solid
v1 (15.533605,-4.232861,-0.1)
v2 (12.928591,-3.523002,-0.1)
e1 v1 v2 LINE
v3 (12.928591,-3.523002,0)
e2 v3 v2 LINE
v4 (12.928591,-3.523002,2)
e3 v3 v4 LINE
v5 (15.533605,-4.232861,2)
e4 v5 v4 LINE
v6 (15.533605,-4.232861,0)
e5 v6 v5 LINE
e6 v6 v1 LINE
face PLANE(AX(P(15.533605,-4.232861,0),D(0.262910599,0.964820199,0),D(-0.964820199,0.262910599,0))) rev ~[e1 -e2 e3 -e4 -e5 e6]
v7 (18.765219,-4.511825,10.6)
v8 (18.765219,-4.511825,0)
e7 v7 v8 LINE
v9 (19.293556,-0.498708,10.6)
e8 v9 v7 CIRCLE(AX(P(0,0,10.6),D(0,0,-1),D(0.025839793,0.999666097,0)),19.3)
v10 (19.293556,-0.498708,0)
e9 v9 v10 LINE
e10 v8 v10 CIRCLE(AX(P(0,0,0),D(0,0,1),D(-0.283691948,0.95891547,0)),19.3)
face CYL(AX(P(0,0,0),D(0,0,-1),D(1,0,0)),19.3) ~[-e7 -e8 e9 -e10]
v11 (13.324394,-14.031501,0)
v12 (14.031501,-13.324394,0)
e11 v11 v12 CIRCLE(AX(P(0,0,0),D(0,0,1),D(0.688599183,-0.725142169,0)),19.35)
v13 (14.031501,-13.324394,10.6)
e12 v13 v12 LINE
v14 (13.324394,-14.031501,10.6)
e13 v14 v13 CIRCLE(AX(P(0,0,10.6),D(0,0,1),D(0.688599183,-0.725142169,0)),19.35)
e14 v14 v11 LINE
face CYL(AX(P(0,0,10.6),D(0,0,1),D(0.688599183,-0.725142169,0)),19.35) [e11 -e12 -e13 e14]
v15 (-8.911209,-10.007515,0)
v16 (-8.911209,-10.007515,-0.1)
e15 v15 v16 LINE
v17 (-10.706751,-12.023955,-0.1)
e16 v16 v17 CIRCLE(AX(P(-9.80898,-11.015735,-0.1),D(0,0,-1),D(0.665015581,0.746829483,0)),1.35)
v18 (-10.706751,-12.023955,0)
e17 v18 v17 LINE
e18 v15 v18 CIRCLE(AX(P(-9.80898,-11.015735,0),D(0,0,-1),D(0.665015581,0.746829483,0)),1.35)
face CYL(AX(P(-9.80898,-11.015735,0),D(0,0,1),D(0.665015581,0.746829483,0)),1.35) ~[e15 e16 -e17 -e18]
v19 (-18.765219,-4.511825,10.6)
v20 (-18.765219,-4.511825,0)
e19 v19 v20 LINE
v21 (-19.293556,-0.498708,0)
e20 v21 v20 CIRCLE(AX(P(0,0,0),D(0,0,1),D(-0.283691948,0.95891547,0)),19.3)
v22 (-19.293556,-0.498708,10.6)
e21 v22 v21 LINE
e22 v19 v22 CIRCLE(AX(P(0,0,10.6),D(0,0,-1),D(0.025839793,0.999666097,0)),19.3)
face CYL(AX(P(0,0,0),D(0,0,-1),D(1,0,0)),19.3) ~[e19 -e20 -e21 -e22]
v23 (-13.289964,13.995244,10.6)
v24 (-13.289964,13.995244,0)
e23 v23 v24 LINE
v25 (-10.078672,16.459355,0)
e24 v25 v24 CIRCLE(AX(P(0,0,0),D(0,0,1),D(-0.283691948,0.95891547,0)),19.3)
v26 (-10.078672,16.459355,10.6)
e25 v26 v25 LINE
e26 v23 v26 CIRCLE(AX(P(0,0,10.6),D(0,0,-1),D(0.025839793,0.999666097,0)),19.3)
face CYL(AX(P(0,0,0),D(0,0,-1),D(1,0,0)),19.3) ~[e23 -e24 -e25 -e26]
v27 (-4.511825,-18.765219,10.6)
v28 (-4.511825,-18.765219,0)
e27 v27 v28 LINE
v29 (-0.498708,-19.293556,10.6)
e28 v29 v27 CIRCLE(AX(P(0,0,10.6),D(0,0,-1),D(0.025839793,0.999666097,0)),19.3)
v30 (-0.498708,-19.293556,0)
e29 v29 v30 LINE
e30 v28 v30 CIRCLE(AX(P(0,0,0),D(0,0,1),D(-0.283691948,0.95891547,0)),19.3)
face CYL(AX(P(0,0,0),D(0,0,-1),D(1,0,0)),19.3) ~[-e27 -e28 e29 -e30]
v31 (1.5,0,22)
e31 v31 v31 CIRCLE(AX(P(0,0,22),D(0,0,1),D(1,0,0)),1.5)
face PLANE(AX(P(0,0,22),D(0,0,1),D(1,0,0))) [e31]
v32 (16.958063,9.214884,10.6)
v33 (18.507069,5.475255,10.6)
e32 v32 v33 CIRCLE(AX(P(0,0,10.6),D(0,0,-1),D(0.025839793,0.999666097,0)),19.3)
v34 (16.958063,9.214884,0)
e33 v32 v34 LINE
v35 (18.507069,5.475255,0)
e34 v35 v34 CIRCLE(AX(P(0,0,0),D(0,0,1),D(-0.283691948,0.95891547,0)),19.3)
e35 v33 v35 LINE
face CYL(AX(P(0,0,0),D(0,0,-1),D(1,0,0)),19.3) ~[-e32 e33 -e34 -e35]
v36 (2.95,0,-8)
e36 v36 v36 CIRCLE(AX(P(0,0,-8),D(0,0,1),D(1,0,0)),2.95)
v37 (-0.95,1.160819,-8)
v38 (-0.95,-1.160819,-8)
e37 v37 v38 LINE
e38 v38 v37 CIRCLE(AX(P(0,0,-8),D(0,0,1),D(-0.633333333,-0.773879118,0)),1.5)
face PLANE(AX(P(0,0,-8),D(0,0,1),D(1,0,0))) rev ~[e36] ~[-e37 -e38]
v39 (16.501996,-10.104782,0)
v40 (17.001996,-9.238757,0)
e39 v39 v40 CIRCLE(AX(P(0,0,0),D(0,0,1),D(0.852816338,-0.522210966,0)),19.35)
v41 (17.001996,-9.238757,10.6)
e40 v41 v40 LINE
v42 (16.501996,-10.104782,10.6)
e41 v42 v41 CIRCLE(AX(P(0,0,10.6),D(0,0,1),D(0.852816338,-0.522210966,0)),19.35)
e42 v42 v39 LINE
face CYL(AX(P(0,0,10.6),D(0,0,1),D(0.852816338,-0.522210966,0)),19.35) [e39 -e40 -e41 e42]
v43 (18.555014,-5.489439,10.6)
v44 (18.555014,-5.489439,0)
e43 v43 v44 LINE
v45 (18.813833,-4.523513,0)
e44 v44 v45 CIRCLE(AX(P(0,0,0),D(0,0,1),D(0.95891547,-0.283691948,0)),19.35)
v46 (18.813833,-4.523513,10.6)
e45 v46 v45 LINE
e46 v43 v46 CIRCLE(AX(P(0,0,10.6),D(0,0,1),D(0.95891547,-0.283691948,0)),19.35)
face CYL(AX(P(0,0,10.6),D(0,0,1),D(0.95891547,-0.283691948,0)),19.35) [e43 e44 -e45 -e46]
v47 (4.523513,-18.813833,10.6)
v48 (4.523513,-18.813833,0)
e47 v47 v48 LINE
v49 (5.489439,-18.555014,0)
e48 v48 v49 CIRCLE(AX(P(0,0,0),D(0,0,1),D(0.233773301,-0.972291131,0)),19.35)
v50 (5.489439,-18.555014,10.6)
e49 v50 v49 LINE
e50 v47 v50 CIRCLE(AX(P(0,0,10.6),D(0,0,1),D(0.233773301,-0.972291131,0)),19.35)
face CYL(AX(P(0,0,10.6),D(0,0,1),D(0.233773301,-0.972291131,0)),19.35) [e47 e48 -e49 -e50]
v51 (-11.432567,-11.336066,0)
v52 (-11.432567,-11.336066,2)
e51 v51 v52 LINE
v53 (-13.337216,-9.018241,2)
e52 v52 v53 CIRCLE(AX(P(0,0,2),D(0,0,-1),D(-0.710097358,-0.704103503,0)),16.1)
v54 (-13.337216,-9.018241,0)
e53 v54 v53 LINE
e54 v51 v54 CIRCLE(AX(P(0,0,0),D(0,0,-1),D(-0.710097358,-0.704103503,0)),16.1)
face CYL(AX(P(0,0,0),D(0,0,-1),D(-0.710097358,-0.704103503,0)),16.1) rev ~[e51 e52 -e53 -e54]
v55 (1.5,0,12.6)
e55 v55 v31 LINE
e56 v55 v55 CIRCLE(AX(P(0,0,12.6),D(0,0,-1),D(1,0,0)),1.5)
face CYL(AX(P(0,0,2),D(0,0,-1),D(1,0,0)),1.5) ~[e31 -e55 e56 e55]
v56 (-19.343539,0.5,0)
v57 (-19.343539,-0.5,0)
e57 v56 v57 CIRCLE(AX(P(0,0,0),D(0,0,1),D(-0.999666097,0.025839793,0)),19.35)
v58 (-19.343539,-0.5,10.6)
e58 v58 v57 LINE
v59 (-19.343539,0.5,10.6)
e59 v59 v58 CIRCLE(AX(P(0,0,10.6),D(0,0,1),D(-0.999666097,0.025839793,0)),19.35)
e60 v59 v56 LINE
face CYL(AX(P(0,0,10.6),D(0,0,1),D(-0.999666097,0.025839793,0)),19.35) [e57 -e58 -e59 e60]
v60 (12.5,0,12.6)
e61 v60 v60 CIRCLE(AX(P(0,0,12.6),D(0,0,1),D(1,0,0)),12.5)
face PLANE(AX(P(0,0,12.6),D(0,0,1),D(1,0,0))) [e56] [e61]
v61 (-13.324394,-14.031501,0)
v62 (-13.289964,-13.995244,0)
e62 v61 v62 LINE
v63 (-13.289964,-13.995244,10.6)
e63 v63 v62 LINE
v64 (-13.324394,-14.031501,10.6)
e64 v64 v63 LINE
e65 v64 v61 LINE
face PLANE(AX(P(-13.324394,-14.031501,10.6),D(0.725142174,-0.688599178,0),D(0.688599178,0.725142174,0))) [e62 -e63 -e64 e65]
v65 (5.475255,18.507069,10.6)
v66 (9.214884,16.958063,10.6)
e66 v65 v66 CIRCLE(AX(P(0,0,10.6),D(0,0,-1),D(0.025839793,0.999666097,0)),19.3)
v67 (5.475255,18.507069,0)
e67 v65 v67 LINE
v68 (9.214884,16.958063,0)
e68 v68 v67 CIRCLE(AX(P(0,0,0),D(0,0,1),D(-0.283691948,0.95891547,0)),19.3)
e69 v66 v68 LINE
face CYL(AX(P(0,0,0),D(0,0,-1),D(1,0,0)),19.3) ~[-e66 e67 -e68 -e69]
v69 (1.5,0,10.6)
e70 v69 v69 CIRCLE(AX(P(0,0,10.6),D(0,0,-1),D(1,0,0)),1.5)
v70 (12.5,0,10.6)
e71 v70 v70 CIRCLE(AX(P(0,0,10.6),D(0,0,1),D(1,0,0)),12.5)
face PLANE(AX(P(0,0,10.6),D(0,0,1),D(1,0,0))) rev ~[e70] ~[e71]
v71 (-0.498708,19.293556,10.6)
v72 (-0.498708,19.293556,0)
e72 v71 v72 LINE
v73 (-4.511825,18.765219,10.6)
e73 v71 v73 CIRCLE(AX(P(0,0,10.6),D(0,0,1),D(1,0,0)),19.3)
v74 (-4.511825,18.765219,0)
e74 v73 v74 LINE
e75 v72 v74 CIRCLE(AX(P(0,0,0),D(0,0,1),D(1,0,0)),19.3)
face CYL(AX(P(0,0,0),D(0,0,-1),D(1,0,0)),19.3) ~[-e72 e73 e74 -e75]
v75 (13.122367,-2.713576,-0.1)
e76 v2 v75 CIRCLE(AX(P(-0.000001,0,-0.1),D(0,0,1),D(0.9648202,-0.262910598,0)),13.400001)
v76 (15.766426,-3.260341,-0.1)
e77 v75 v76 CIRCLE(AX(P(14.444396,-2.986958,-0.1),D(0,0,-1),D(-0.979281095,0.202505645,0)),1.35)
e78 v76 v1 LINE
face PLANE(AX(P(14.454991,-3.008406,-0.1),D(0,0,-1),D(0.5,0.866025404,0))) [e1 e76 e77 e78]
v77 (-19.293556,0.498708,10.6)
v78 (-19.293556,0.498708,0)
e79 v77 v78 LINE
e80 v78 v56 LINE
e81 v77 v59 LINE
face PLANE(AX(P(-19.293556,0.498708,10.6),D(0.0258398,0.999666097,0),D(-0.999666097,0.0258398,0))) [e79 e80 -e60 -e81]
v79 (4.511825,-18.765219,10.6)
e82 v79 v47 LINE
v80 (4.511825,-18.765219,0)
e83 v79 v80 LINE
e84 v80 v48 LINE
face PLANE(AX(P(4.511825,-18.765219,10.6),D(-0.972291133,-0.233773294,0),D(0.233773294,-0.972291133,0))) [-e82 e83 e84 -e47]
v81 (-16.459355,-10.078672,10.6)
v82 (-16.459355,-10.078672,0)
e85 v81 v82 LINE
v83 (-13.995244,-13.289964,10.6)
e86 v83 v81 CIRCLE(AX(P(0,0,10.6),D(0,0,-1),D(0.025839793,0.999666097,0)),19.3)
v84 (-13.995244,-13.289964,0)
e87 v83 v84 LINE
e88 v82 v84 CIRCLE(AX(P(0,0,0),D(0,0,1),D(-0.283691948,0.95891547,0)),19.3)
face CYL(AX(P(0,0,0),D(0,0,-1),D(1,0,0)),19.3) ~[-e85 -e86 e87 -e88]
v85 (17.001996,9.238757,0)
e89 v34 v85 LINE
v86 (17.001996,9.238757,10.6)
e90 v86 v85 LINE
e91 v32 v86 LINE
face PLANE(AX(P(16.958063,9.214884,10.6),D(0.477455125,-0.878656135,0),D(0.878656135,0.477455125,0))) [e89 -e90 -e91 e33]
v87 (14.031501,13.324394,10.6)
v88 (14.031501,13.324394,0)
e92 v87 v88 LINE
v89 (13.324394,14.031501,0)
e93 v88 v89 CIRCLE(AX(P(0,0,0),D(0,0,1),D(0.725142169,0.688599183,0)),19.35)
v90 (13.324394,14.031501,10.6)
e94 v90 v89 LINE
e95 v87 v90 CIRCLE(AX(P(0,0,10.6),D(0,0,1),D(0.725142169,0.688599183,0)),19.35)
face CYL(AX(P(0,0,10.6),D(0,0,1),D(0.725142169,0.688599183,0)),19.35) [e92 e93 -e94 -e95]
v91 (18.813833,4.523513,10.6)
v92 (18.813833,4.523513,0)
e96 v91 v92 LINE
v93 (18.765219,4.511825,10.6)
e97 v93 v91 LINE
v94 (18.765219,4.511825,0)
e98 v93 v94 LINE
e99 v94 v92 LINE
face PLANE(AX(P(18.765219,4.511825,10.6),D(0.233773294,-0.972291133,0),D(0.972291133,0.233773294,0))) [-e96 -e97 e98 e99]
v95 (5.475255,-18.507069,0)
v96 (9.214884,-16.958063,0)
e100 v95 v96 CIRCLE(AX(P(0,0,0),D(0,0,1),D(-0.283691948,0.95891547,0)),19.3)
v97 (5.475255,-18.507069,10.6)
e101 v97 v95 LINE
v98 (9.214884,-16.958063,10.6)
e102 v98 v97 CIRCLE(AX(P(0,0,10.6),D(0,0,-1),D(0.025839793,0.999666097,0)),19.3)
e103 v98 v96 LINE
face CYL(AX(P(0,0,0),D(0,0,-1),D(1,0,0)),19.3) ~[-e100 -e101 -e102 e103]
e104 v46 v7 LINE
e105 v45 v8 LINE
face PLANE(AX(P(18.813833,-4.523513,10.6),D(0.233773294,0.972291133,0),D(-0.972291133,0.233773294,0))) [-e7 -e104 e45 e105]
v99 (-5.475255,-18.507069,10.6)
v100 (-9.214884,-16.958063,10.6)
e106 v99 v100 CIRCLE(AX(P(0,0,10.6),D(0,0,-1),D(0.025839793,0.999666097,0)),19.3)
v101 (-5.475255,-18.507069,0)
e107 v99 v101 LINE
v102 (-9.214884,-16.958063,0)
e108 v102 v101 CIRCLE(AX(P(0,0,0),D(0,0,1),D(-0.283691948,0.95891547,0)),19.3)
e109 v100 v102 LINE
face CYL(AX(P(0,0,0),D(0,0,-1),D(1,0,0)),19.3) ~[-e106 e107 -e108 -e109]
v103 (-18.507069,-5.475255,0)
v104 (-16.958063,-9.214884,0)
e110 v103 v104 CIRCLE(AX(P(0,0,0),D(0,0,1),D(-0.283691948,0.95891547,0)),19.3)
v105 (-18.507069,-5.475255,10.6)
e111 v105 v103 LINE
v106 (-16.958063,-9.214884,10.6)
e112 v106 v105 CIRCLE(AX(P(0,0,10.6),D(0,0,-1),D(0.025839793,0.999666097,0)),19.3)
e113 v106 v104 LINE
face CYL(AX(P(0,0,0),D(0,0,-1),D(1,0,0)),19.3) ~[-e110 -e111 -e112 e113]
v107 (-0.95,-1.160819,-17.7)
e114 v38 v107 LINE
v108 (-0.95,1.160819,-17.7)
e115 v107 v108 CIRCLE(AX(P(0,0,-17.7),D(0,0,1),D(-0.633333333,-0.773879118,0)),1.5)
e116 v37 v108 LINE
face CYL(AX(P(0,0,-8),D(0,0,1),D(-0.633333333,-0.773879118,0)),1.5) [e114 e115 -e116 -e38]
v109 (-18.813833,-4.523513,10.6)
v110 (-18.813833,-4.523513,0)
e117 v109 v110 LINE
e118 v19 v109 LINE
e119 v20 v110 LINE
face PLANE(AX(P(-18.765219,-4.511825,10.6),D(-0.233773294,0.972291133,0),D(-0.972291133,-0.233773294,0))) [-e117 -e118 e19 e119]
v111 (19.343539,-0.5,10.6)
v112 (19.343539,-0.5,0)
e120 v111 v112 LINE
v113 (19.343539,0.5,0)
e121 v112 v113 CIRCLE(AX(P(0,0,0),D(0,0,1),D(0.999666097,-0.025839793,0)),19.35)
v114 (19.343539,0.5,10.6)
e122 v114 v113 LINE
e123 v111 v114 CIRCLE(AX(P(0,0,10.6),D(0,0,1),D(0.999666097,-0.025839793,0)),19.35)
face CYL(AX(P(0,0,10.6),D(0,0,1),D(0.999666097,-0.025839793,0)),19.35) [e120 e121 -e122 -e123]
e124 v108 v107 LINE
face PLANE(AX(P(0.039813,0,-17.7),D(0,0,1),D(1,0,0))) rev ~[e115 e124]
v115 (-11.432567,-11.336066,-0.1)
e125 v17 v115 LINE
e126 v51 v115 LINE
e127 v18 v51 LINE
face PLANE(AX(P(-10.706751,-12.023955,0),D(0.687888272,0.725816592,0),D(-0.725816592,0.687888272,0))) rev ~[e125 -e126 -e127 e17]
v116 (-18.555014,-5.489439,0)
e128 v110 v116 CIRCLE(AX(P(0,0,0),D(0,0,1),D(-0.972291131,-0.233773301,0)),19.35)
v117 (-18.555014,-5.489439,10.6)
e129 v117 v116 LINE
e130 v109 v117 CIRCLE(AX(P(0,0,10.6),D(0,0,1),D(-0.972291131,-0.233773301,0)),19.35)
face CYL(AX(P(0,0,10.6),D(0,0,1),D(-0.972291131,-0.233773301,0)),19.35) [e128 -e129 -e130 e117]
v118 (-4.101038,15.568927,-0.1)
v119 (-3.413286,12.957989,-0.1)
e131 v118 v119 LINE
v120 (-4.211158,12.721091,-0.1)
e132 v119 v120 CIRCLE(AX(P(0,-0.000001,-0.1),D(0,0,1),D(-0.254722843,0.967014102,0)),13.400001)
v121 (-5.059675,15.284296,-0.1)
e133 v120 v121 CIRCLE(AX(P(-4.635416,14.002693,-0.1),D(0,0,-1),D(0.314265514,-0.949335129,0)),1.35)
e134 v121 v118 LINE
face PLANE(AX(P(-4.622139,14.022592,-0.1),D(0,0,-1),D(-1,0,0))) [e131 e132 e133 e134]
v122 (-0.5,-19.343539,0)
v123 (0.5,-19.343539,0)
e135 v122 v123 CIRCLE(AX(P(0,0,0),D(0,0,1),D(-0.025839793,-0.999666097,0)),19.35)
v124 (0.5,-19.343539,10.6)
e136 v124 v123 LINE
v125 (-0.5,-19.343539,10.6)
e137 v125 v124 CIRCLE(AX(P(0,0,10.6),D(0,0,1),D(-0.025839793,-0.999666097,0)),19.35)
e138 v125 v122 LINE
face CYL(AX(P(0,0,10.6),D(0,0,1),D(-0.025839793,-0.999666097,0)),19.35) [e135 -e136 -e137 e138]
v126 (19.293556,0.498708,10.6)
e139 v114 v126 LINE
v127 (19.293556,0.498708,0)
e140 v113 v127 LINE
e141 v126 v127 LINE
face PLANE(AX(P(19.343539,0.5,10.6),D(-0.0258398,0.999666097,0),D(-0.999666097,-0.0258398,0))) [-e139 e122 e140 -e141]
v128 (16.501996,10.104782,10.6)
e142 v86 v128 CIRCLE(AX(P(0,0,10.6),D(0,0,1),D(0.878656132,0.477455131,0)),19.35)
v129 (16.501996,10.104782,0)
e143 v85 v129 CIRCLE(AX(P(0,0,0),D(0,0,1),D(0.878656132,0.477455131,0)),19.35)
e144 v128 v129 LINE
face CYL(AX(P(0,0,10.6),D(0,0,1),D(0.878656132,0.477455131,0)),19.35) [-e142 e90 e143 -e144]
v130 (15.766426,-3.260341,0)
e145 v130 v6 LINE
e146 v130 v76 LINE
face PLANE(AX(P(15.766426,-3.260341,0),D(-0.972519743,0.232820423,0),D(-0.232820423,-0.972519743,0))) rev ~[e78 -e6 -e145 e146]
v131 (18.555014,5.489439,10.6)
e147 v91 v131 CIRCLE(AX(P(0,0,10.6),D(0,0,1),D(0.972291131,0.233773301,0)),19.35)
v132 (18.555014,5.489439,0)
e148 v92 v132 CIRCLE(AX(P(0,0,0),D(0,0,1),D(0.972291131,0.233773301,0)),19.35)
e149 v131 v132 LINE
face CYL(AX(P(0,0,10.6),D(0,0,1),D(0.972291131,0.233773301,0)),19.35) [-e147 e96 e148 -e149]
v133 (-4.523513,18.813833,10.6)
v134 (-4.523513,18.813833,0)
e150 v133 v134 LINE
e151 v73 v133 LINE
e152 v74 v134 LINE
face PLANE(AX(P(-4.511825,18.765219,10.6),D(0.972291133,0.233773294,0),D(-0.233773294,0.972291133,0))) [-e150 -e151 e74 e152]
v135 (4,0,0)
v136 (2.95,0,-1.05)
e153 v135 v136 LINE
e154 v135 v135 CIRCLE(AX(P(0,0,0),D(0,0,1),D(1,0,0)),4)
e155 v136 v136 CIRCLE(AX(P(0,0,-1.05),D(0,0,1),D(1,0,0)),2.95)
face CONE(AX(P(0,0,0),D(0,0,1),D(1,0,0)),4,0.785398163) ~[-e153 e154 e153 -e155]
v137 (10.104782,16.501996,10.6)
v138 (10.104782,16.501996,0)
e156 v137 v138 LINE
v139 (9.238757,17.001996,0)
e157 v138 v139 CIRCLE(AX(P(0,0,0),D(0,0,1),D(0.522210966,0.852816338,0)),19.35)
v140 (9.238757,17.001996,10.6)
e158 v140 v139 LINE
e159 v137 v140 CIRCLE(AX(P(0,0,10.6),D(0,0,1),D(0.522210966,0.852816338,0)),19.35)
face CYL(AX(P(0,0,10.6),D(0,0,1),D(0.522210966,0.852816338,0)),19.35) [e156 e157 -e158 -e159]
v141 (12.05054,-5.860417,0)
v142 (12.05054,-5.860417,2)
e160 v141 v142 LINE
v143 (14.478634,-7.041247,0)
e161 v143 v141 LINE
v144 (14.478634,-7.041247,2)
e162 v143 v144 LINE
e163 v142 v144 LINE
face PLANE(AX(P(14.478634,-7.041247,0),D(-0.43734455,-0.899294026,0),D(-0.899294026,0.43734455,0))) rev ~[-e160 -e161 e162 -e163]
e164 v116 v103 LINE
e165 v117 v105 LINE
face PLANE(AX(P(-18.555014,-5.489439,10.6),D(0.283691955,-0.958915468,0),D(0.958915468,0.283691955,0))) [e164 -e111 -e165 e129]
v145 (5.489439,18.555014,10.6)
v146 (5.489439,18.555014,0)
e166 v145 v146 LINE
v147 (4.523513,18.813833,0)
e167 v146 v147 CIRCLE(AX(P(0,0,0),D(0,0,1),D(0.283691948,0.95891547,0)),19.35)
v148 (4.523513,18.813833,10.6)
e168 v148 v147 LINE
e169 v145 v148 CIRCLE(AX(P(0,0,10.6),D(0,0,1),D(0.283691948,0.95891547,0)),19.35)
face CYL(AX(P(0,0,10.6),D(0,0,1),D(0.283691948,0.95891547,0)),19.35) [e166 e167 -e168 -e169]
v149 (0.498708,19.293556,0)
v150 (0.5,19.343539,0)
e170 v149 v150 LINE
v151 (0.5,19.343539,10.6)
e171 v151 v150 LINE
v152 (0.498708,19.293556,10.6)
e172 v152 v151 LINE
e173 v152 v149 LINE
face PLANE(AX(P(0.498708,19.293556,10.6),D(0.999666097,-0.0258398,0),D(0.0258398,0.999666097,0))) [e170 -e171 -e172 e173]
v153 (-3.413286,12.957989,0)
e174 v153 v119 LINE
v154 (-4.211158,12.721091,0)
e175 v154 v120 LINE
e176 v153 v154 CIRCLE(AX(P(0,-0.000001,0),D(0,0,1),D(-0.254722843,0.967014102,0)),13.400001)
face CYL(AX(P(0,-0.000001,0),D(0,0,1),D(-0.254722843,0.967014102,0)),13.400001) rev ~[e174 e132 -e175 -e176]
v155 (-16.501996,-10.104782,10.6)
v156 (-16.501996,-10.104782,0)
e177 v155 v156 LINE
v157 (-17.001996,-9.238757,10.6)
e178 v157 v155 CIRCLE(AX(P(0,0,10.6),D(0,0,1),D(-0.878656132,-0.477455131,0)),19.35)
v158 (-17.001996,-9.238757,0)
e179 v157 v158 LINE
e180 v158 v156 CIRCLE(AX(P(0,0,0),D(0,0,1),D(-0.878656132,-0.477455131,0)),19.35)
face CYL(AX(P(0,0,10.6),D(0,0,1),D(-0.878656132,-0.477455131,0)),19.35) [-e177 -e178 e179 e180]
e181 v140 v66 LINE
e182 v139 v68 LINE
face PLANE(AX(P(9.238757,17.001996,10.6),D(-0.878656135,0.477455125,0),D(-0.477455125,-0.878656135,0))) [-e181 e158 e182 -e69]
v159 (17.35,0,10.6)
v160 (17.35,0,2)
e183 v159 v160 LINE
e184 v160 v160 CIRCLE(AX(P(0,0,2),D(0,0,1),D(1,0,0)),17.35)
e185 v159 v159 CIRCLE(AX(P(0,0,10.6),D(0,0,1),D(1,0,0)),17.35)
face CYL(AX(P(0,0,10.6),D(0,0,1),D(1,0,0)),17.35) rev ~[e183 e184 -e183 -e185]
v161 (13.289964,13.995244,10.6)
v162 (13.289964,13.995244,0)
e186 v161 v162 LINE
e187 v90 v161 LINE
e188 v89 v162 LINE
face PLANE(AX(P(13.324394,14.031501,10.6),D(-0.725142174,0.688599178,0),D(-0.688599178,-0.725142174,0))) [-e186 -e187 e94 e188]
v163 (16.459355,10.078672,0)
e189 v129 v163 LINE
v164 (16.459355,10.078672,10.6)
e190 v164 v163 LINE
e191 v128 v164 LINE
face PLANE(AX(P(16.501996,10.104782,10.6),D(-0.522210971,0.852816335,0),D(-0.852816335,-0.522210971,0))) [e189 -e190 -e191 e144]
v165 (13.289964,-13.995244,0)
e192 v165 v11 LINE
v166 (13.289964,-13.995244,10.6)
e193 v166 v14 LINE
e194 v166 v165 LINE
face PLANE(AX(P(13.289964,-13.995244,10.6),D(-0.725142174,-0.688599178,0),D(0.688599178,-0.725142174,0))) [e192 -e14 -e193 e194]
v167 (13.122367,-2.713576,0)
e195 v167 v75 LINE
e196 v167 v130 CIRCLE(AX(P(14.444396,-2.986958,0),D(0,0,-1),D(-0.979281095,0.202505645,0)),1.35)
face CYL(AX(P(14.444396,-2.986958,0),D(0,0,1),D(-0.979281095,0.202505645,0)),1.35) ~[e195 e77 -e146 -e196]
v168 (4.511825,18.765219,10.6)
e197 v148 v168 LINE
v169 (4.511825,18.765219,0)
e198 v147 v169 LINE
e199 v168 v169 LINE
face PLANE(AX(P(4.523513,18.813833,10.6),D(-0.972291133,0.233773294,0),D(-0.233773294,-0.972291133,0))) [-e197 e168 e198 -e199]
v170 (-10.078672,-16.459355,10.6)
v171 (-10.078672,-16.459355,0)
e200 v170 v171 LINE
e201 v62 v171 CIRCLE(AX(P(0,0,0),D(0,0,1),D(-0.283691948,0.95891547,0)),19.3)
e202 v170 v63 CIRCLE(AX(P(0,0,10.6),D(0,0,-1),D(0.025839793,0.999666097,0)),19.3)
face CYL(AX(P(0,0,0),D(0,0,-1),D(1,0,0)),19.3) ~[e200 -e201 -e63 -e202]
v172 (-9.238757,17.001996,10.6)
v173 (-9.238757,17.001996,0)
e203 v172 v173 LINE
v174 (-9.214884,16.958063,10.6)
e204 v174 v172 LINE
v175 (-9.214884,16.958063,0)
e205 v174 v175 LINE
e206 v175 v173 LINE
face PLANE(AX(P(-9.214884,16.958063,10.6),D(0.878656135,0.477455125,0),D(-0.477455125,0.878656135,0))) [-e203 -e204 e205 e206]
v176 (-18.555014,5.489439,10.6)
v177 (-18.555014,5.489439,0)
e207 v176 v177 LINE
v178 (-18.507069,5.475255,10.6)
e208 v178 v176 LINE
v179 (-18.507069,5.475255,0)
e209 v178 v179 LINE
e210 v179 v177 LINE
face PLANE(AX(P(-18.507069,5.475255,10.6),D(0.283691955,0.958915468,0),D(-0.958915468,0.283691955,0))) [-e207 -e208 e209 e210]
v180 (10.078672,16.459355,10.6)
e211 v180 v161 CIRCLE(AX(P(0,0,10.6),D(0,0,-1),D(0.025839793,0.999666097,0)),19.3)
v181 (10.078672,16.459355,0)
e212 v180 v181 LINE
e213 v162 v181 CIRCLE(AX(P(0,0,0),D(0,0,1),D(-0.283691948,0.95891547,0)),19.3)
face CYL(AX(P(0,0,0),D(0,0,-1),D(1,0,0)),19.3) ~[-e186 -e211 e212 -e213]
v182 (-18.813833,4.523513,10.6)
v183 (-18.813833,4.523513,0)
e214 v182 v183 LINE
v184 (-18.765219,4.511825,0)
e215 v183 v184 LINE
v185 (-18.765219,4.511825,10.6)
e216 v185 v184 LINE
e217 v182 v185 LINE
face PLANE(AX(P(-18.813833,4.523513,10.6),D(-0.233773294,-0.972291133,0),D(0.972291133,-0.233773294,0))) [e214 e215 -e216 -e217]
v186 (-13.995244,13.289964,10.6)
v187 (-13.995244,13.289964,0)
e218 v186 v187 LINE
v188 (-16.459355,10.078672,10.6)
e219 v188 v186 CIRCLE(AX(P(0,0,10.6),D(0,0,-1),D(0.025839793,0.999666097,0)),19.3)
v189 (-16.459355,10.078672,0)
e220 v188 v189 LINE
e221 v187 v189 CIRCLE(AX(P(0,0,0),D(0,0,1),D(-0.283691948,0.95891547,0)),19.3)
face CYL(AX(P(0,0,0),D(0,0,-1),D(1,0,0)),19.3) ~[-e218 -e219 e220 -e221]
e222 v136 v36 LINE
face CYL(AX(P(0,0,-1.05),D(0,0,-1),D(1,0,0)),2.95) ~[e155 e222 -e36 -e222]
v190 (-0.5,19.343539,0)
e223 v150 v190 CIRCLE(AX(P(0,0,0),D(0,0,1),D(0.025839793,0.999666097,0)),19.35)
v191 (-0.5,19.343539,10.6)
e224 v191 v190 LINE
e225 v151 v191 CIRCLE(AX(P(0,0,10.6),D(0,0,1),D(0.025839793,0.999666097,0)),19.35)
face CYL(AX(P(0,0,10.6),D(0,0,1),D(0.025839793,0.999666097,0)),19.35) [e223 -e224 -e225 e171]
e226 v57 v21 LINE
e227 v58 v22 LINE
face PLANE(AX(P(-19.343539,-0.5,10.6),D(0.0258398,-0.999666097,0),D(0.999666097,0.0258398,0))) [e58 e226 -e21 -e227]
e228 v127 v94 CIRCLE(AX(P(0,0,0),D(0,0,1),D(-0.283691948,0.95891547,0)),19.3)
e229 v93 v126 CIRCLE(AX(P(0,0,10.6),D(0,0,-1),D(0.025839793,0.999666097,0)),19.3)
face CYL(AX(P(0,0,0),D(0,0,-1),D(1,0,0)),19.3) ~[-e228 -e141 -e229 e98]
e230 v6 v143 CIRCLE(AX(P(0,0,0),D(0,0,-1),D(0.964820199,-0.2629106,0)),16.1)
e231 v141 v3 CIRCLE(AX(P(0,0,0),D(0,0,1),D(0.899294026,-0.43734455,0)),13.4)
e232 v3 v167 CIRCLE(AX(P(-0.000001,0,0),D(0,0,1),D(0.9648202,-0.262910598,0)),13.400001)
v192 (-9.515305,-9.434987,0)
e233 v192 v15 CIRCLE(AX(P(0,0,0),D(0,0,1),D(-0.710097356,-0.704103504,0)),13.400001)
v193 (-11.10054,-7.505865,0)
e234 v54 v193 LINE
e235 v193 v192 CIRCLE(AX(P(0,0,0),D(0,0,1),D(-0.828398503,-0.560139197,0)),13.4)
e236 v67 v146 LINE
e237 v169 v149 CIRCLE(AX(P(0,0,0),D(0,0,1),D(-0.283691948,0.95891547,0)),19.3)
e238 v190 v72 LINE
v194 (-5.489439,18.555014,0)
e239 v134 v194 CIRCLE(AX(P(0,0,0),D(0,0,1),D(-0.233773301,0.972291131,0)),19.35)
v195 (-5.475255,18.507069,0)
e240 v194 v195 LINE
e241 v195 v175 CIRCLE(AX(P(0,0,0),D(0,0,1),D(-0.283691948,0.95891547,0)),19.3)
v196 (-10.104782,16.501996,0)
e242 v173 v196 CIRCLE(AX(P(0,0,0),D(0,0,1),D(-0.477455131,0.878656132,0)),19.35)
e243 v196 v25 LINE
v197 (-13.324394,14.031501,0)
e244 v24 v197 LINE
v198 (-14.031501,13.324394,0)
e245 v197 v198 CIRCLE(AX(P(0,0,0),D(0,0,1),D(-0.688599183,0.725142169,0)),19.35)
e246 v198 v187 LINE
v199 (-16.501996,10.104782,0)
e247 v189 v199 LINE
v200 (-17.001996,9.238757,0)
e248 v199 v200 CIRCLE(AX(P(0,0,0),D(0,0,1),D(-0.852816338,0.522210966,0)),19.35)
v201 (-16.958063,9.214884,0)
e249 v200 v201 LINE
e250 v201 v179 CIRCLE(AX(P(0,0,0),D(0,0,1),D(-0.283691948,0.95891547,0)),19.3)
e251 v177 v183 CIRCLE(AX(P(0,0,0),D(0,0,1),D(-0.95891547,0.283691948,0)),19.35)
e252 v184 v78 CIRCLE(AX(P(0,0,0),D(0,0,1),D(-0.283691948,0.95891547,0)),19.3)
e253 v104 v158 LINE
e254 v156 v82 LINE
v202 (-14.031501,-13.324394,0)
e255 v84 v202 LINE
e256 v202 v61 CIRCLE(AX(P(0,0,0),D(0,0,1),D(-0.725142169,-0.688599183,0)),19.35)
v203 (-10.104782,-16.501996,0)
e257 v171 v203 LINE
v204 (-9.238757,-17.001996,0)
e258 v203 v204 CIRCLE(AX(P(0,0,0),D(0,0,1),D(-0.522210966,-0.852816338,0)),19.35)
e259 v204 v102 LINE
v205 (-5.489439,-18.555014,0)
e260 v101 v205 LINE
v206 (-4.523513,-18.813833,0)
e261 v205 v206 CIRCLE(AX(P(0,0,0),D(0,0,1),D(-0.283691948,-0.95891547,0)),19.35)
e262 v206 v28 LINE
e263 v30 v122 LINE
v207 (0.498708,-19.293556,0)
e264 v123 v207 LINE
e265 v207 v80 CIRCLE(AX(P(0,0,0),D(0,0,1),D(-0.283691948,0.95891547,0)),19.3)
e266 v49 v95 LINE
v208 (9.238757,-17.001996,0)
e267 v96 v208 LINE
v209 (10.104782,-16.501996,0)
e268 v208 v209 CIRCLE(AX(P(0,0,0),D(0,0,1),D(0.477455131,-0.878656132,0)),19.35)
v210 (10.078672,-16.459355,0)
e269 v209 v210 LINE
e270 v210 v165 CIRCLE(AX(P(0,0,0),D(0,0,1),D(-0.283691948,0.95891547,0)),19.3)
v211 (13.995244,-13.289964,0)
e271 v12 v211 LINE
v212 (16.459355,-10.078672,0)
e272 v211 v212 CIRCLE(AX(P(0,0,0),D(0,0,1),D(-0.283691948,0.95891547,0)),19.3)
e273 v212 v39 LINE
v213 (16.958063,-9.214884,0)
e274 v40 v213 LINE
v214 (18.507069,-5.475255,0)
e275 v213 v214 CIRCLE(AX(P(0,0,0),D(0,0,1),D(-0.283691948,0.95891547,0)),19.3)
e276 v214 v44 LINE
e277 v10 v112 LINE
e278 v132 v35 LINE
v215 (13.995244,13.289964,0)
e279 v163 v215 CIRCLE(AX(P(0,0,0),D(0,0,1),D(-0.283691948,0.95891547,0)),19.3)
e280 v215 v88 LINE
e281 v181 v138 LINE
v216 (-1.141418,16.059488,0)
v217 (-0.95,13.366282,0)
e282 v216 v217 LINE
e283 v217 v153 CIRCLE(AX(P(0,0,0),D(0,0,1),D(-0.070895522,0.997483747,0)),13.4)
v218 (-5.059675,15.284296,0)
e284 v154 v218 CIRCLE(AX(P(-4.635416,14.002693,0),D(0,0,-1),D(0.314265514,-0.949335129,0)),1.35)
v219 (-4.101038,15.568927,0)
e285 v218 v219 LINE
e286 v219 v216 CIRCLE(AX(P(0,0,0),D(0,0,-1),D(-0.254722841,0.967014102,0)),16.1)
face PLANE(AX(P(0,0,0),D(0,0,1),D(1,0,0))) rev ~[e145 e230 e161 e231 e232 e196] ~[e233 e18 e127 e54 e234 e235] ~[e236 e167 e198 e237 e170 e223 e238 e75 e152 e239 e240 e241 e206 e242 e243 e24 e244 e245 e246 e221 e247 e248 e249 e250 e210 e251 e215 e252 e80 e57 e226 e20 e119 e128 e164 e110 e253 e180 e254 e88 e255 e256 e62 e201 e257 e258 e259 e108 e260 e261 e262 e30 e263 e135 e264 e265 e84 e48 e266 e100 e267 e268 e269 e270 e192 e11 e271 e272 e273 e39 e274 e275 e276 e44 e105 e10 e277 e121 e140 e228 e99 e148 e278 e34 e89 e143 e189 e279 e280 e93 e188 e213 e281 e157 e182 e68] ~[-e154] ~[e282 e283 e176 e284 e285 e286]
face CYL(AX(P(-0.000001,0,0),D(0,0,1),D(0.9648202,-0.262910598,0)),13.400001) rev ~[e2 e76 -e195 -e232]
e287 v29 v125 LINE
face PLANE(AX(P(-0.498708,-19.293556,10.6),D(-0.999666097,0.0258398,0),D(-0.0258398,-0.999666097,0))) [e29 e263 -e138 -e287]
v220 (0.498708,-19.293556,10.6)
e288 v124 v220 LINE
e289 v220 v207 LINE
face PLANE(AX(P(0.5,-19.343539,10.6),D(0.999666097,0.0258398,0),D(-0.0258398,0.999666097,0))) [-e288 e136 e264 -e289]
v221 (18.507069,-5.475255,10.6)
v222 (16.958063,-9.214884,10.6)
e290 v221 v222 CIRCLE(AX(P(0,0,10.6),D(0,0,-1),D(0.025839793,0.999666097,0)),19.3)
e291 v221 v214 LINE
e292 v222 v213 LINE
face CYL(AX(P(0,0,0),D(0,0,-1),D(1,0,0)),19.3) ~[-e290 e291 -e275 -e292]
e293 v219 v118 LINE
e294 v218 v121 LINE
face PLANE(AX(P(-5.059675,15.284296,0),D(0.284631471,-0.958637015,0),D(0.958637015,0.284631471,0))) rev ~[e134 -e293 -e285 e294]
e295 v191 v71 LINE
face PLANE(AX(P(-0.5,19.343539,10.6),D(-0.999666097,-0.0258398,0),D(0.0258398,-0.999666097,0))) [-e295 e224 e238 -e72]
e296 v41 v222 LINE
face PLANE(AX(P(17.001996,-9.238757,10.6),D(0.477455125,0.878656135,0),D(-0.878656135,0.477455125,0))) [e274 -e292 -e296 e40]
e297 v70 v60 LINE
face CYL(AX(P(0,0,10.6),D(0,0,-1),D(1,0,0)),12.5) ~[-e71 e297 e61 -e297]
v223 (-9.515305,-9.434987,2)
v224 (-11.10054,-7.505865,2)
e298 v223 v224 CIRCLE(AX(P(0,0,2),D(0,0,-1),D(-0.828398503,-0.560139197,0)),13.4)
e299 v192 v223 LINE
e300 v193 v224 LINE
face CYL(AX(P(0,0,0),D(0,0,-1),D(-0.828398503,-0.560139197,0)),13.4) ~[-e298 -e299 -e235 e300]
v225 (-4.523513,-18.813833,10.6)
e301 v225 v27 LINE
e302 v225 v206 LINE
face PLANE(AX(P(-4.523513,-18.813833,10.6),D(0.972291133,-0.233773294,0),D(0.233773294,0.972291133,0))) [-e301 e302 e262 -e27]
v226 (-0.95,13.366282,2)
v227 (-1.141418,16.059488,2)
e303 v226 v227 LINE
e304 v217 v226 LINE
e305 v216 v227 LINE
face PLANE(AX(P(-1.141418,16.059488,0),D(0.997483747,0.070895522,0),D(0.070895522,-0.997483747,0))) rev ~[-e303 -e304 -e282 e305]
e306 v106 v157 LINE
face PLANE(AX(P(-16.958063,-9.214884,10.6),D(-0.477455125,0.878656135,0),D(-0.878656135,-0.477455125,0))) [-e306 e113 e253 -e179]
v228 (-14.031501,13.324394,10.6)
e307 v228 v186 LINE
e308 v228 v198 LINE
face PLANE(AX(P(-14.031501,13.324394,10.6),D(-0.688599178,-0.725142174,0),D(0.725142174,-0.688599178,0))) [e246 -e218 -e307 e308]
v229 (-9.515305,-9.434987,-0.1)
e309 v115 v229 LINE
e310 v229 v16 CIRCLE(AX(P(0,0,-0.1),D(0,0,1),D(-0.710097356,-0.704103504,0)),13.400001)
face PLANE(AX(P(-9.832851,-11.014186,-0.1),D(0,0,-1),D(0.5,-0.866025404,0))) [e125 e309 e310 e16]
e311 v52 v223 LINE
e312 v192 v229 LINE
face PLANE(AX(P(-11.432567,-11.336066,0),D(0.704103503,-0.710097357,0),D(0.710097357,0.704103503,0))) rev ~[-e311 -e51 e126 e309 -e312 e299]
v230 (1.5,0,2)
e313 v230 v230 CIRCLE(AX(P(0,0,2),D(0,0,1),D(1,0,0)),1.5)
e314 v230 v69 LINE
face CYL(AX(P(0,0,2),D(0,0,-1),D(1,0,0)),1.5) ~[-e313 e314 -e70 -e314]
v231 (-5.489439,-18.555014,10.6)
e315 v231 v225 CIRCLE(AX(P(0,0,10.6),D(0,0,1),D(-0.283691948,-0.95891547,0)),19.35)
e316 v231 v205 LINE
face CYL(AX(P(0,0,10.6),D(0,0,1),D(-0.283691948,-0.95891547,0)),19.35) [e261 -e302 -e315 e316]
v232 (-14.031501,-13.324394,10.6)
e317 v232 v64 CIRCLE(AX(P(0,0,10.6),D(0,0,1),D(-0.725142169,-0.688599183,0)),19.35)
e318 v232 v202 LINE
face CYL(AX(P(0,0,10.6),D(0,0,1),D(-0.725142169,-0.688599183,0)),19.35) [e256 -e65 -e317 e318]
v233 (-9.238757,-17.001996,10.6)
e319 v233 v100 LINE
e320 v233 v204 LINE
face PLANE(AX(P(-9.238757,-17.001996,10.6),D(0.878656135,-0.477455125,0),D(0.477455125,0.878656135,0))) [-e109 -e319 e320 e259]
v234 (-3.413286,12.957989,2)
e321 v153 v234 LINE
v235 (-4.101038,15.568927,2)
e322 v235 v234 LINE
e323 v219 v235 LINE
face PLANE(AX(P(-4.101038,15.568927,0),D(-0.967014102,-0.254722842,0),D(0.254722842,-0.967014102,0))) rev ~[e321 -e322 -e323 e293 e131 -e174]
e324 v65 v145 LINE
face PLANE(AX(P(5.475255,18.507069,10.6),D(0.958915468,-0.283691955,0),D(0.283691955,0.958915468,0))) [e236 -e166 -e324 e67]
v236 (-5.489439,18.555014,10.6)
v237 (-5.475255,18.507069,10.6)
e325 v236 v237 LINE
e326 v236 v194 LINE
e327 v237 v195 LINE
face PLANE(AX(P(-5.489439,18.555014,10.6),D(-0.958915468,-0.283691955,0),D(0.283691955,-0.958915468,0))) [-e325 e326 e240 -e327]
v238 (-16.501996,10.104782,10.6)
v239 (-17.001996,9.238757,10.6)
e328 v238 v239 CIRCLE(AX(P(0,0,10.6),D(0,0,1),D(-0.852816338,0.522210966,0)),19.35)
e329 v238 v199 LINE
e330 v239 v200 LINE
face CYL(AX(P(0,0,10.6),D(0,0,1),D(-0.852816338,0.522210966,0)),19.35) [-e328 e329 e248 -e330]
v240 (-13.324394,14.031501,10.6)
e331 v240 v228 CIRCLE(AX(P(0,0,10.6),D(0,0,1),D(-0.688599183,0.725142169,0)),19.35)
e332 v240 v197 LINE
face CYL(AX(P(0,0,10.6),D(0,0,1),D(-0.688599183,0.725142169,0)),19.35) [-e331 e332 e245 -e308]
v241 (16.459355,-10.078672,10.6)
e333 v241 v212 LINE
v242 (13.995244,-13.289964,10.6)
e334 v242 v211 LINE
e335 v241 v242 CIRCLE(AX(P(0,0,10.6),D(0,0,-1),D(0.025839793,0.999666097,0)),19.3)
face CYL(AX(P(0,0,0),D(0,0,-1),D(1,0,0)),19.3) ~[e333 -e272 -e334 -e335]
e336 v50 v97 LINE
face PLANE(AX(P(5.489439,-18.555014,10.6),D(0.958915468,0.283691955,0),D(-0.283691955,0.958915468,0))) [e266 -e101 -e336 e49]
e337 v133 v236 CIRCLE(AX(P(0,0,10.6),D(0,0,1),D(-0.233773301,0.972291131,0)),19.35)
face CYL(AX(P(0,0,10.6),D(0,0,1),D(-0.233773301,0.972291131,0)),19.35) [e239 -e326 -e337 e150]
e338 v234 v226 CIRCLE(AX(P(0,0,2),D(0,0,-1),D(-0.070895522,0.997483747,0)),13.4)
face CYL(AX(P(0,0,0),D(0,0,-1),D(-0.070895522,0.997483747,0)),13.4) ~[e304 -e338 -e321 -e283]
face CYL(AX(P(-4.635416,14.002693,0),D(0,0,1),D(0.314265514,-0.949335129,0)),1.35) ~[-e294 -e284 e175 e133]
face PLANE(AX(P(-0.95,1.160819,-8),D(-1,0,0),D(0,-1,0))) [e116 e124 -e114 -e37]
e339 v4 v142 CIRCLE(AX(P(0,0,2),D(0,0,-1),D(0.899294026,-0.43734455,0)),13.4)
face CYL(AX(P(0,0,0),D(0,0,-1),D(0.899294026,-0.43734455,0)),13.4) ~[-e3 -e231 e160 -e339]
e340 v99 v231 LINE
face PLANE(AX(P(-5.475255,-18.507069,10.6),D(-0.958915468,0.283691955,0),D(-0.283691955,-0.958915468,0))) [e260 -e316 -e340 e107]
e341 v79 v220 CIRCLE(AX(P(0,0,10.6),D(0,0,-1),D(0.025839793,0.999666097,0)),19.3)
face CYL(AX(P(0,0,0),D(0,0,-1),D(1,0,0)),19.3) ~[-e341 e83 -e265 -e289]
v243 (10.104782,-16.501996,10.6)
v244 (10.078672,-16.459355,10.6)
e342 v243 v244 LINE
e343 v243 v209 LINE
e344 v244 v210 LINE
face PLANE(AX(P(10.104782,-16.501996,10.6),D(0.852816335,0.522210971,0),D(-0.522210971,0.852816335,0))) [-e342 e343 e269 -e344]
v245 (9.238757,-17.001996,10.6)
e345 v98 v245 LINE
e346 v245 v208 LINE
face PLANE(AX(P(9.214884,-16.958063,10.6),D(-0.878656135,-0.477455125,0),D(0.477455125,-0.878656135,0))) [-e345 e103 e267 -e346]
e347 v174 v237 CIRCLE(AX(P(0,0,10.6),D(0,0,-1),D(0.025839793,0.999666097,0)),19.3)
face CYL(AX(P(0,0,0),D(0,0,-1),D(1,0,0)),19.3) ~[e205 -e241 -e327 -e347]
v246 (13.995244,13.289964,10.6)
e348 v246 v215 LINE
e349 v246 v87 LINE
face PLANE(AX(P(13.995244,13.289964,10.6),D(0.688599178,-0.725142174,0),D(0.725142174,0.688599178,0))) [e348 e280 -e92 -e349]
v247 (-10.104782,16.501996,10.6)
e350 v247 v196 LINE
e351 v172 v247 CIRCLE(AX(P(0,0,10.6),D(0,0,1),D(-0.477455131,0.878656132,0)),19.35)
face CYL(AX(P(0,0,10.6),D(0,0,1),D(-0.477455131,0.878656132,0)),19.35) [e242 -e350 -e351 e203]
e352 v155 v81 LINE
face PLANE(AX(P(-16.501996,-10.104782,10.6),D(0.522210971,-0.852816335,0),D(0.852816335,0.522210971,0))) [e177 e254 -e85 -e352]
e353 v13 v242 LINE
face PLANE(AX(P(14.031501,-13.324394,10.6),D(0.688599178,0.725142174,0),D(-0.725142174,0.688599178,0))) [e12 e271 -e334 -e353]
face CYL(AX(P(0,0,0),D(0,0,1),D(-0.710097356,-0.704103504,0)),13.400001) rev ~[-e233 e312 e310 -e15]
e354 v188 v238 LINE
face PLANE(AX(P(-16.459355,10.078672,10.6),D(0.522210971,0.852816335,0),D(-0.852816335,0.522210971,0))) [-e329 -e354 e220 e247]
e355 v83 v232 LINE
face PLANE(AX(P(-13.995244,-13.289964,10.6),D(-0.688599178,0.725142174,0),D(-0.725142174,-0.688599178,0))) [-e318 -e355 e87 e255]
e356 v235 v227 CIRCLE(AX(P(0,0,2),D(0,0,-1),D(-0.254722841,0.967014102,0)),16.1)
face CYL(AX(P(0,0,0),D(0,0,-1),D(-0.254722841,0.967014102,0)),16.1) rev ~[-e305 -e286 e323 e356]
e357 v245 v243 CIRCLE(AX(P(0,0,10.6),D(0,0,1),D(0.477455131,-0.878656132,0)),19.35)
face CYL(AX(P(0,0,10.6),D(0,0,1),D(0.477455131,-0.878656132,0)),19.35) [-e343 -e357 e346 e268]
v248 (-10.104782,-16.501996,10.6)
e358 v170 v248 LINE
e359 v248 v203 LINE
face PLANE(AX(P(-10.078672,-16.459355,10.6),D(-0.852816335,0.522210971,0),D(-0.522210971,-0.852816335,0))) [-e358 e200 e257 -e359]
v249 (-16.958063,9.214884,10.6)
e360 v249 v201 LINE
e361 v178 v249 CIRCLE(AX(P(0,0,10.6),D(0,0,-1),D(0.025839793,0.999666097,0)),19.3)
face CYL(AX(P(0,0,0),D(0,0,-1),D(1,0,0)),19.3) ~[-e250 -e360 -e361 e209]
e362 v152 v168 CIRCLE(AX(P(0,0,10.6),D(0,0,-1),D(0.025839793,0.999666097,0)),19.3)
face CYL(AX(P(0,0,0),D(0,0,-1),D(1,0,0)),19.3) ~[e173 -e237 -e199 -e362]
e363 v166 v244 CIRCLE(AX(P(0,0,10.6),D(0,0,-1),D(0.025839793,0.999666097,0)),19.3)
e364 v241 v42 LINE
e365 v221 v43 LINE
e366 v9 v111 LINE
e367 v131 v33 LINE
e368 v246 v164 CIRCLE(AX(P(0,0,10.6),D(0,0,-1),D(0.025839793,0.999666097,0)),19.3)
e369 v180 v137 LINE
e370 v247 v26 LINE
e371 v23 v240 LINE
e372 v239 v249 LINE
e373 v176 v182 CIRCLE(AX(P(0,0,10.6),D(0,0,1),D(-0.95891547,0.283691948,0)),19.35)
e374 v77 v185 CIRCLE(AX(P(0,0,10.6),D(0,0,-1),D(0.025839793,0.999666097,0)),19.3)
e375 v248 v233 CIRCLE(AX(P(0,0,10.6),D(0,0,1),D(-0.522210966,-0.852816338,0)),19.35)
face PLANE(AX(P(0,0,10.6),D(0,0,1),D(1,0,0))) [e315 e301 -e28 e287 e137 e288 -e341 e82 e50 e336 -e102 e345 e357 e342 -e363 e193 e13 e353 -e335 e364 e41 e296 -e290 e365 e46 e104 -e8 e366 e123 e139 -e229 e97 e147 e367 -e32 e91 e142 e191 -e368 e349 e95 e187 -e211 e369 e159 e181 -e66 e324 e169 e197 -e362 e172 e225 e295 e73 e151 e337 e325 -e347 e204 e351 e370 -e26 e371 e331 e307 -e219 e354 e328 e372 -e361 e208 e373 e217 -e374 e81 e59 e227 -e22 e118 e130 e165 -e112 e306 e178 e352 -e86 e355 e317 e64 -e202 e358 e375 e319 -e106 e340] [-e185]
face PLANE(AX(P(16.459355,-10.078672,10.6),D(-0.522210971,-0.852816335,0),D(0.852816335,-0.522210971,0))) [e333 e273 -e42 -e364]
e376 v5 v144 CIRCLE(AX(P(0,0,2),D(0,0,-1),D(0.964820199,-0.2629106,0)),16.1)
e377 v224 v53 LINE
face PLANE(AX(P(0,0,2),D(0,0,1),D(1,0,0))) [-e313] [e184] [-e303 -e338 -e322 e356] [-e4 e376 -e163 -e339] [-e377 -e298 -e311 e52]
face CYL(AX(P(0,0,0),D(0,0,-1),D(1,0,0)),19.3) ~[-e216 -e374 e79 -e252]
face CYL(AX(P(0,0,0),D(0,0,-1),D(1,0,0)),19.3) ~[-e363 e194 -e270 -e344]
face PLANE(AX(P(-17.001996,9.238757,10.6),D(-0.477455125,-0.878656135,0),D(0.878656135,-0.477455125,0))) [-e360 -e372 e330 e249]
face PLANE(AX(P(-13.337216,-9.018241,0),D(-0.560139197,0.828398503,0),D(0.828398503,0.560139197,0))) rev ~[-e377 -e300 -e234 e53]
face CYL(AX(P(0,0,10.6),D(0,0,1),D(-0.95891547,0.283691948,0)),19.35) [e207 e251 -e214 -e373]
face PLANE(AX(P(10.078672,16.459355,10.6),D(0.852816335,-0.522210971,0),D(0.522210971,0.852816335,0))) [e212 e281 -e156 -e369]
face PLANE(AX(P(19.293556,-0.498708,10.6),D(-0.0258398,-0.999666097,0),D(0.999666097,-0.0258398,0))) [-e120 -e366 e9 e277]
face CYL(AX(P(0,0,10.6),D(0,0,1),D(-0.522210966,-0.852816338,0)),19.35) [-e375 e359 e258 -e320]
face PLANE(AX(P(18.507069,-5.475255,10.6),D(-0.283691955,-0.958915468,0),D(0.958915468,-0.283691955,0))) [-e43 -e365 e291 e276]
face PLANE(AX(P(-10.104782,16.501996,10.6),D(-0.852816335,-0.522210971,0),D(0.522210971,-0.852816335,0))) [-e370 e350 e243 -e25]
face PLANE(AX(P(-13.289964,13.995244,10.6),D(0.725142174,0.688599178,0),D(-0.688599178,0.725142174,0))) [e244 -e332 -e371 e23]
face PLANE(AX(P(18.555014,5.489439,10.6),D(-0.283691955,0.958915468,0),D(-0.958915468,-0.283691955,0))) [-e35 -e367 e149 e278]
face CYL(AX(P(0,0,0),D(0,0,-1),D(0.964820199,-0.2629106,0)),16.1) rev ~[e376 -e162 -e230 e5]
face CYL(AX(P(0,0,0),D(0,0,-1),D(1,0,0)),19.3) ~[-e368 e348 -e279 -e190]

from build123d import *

# Parameters (mm, degrees)
SKETCH1_R           = 19.3
BOSS_EXTRUDE1_DEPTH = 10.6
BOSS_EXTRUDE3_DEPTH = 10.6
SKETCH8_R           = 17.35
CUT_EXTRUDE2_DEPTH  = 8.6
CIRPATTERN1_COUNT   = 24
BOSS_EXTRUDE4_DEPTH = 9.7
CUT_EXTRUDE1_DEPTH  = 11.6
BOSS_EXTRUDE5_DEPTH = 0.1
CIRPATTERN2_COUNT   = 3
SKETCH10_R          = 1.5
BOSS_EXTRUDE6_DEPTH = 20
SKETCH11_R          = 12.5
BOSS_EXTRUDE7_DEPTH = 2


with BuildPart() as part:
    # Sketch1 → Boss-Extrude1 (new body)
    with BuildSketch(Plane.XY):
        Circle(SKETCH1_R)
    extrude(amount=BOSS_EXTRUDE1_DEPTH)

    # Sketch3 → Boss-Extrude3 (add, through all)
    with BuildSketch(Plane.XY.offset(10.6)):
        with BuildLine():
            Line((-0.5, 19.343538973), (-0.49870801, 19.293555668))
            ThreePointArc((-0.49870801, 19.293555668), (0, 19.3), (0.49870801, 19.293555668))
            Line((0.49870801, 19.293555668), (0.5, 19.343538973))
            ThreePointArc((0.5, 19.343538973), (0, 19.35), (-0.5, 19.343538973))
        make_face()
    boss_extrude3 = extrude(amount=-BOSS_EXTRUDE3_DEPTH)

    # Sketch8 → Cut-Extrude2 (cut)
    with BuildSketch(Plane.XY.offset(10.6)):
        Circle(SKETCH8_R)
    extrude(amount=-CUT_EXTRUDE2_DEPTH, mode=Mode.SUBTRACT)

    # CirPattern1: Boss-Extrude3 ×24 about axis
    cirpattern1_axis = Axis((0, 0, 0), (0, 0, 1))
    for i in range(1, CIRPATTERN1_COUNT):
        add(boss_extrude3.rotate(cirpattern1_axis, i * 360 / CIRPATTERN1_COUNT))

    # Sketch5 → Revolve1 (revolve)
    with BuildSketch(Plane(origin=(0, 0, 0), x_dir=(1, 0, 0), z_dir=(0, 1, 0))):
        Polygon((0, 0), (4, 0), (2.95, 1.05), (2.95, 8), (0, 8), align=None)
    revolve(axis=Axis((0, 0, -8), (0, 0, 1)))

    # Sketch6 → Boss-Extrude4 (add)
    with BuildSketch(Plane(origin=(0, 0, -8), x_dir=(-1, 0, 0), z_dir=(0, 0, -1))):
        with BuildLine():
            Line((0.95, 1.160818677), (0.95, -1.160818677))
            ThreePointArc((0.95, -1.160818677), (-1.5, 0), (0.95, 1.160818677))
        make_face()
    extrude(amount=BOSS_EXTRUDE4_DEPTH)

    # Sketch7 → Cut-Extrude1 (cut, through all)
    with BuildSketch(Plane(origin=(0, 0, 0), x_dir=(-1, 0, 0), z_dir=(0, 0, -1))):
        with BuildLine():
            Line((1.14141791, 16.059488322), (0.95, 13.366282206))
            ThreePointArc((0.95, 13.366282206), (2.191173704, 13.219635313), (3.413286083, 12.957988969))
            Line((3.413286083, 12.957988969), (4.101037757, 15.568927045))
            ThreePointArc((4.101037757, 15.568927045), (2.632678854, 15.883293174), (1.14141791, 16.059488322))
        make_face()
    cut_extrude1 = extrude(amount=-CUT_EXTRUDE1_DEPTH, mode=Mode.SUBTRACT)

    # Sketch9 → Boss-Extrude5 (add)
    with BuildSketch(Plane(origin=(0, 0, 0), x_dir=(-1, 0, 0), z_dir=(0, 0, -1))):
        with BuildLine():
            Line((4.101037757, 15.568927045), (3.413286083, 12.957988969))
            ThreePointArc((3.413286083, 12.957988969), (3.814061699, 12.845735999), (4.211157884, 12.721090727))
            ThreePointArc((4.211157884, 12.721090727), (5.917018752, 13.578434707), (5.059674771, 15.284295574))
            Line((5.059674771, 15.284295574), (4.101037757, 15.568927045))
        make_face()
    boss_extrude5 = extrude(amount=BOSS_EXTRUDE5_DEPTH)

    # CirPattern2: Cut-Extrude1, Boss-Extrude5 ×3 about axis
    cirpattern2_axis = Axis((0, 0, 0), (0, 0, 1))
    for i in range(1, CIRPATTERN2_COUNT):
        add(cut_extrude1.rotate(cirpattern2_axis, i * 360 / CIRPATTERN2_COUNT), mode=Mode.SUBTRACT)
        add(boss_extrude5.rotate(cirpattern2_axis, i * 360 / CIRPATTERN2_COUNT))

    # Sketch10 → Boss-Extrude6 (add)
    with BuildSketch(Plane.XY.offset(2)):
        Circle(SKETCH10_R)
    extrude(amount=BOSS_EXTRUDE6_DEPTH)

    # Sketch11 → Boss-Extrude7 (add)
    with BuildSketch(Plane.XY.offset(10.6)):
        Circle(SKETCH11_R)
    extrude(amount=BOSS_EXTRUDE7_DEPTH)


solid = part.part
